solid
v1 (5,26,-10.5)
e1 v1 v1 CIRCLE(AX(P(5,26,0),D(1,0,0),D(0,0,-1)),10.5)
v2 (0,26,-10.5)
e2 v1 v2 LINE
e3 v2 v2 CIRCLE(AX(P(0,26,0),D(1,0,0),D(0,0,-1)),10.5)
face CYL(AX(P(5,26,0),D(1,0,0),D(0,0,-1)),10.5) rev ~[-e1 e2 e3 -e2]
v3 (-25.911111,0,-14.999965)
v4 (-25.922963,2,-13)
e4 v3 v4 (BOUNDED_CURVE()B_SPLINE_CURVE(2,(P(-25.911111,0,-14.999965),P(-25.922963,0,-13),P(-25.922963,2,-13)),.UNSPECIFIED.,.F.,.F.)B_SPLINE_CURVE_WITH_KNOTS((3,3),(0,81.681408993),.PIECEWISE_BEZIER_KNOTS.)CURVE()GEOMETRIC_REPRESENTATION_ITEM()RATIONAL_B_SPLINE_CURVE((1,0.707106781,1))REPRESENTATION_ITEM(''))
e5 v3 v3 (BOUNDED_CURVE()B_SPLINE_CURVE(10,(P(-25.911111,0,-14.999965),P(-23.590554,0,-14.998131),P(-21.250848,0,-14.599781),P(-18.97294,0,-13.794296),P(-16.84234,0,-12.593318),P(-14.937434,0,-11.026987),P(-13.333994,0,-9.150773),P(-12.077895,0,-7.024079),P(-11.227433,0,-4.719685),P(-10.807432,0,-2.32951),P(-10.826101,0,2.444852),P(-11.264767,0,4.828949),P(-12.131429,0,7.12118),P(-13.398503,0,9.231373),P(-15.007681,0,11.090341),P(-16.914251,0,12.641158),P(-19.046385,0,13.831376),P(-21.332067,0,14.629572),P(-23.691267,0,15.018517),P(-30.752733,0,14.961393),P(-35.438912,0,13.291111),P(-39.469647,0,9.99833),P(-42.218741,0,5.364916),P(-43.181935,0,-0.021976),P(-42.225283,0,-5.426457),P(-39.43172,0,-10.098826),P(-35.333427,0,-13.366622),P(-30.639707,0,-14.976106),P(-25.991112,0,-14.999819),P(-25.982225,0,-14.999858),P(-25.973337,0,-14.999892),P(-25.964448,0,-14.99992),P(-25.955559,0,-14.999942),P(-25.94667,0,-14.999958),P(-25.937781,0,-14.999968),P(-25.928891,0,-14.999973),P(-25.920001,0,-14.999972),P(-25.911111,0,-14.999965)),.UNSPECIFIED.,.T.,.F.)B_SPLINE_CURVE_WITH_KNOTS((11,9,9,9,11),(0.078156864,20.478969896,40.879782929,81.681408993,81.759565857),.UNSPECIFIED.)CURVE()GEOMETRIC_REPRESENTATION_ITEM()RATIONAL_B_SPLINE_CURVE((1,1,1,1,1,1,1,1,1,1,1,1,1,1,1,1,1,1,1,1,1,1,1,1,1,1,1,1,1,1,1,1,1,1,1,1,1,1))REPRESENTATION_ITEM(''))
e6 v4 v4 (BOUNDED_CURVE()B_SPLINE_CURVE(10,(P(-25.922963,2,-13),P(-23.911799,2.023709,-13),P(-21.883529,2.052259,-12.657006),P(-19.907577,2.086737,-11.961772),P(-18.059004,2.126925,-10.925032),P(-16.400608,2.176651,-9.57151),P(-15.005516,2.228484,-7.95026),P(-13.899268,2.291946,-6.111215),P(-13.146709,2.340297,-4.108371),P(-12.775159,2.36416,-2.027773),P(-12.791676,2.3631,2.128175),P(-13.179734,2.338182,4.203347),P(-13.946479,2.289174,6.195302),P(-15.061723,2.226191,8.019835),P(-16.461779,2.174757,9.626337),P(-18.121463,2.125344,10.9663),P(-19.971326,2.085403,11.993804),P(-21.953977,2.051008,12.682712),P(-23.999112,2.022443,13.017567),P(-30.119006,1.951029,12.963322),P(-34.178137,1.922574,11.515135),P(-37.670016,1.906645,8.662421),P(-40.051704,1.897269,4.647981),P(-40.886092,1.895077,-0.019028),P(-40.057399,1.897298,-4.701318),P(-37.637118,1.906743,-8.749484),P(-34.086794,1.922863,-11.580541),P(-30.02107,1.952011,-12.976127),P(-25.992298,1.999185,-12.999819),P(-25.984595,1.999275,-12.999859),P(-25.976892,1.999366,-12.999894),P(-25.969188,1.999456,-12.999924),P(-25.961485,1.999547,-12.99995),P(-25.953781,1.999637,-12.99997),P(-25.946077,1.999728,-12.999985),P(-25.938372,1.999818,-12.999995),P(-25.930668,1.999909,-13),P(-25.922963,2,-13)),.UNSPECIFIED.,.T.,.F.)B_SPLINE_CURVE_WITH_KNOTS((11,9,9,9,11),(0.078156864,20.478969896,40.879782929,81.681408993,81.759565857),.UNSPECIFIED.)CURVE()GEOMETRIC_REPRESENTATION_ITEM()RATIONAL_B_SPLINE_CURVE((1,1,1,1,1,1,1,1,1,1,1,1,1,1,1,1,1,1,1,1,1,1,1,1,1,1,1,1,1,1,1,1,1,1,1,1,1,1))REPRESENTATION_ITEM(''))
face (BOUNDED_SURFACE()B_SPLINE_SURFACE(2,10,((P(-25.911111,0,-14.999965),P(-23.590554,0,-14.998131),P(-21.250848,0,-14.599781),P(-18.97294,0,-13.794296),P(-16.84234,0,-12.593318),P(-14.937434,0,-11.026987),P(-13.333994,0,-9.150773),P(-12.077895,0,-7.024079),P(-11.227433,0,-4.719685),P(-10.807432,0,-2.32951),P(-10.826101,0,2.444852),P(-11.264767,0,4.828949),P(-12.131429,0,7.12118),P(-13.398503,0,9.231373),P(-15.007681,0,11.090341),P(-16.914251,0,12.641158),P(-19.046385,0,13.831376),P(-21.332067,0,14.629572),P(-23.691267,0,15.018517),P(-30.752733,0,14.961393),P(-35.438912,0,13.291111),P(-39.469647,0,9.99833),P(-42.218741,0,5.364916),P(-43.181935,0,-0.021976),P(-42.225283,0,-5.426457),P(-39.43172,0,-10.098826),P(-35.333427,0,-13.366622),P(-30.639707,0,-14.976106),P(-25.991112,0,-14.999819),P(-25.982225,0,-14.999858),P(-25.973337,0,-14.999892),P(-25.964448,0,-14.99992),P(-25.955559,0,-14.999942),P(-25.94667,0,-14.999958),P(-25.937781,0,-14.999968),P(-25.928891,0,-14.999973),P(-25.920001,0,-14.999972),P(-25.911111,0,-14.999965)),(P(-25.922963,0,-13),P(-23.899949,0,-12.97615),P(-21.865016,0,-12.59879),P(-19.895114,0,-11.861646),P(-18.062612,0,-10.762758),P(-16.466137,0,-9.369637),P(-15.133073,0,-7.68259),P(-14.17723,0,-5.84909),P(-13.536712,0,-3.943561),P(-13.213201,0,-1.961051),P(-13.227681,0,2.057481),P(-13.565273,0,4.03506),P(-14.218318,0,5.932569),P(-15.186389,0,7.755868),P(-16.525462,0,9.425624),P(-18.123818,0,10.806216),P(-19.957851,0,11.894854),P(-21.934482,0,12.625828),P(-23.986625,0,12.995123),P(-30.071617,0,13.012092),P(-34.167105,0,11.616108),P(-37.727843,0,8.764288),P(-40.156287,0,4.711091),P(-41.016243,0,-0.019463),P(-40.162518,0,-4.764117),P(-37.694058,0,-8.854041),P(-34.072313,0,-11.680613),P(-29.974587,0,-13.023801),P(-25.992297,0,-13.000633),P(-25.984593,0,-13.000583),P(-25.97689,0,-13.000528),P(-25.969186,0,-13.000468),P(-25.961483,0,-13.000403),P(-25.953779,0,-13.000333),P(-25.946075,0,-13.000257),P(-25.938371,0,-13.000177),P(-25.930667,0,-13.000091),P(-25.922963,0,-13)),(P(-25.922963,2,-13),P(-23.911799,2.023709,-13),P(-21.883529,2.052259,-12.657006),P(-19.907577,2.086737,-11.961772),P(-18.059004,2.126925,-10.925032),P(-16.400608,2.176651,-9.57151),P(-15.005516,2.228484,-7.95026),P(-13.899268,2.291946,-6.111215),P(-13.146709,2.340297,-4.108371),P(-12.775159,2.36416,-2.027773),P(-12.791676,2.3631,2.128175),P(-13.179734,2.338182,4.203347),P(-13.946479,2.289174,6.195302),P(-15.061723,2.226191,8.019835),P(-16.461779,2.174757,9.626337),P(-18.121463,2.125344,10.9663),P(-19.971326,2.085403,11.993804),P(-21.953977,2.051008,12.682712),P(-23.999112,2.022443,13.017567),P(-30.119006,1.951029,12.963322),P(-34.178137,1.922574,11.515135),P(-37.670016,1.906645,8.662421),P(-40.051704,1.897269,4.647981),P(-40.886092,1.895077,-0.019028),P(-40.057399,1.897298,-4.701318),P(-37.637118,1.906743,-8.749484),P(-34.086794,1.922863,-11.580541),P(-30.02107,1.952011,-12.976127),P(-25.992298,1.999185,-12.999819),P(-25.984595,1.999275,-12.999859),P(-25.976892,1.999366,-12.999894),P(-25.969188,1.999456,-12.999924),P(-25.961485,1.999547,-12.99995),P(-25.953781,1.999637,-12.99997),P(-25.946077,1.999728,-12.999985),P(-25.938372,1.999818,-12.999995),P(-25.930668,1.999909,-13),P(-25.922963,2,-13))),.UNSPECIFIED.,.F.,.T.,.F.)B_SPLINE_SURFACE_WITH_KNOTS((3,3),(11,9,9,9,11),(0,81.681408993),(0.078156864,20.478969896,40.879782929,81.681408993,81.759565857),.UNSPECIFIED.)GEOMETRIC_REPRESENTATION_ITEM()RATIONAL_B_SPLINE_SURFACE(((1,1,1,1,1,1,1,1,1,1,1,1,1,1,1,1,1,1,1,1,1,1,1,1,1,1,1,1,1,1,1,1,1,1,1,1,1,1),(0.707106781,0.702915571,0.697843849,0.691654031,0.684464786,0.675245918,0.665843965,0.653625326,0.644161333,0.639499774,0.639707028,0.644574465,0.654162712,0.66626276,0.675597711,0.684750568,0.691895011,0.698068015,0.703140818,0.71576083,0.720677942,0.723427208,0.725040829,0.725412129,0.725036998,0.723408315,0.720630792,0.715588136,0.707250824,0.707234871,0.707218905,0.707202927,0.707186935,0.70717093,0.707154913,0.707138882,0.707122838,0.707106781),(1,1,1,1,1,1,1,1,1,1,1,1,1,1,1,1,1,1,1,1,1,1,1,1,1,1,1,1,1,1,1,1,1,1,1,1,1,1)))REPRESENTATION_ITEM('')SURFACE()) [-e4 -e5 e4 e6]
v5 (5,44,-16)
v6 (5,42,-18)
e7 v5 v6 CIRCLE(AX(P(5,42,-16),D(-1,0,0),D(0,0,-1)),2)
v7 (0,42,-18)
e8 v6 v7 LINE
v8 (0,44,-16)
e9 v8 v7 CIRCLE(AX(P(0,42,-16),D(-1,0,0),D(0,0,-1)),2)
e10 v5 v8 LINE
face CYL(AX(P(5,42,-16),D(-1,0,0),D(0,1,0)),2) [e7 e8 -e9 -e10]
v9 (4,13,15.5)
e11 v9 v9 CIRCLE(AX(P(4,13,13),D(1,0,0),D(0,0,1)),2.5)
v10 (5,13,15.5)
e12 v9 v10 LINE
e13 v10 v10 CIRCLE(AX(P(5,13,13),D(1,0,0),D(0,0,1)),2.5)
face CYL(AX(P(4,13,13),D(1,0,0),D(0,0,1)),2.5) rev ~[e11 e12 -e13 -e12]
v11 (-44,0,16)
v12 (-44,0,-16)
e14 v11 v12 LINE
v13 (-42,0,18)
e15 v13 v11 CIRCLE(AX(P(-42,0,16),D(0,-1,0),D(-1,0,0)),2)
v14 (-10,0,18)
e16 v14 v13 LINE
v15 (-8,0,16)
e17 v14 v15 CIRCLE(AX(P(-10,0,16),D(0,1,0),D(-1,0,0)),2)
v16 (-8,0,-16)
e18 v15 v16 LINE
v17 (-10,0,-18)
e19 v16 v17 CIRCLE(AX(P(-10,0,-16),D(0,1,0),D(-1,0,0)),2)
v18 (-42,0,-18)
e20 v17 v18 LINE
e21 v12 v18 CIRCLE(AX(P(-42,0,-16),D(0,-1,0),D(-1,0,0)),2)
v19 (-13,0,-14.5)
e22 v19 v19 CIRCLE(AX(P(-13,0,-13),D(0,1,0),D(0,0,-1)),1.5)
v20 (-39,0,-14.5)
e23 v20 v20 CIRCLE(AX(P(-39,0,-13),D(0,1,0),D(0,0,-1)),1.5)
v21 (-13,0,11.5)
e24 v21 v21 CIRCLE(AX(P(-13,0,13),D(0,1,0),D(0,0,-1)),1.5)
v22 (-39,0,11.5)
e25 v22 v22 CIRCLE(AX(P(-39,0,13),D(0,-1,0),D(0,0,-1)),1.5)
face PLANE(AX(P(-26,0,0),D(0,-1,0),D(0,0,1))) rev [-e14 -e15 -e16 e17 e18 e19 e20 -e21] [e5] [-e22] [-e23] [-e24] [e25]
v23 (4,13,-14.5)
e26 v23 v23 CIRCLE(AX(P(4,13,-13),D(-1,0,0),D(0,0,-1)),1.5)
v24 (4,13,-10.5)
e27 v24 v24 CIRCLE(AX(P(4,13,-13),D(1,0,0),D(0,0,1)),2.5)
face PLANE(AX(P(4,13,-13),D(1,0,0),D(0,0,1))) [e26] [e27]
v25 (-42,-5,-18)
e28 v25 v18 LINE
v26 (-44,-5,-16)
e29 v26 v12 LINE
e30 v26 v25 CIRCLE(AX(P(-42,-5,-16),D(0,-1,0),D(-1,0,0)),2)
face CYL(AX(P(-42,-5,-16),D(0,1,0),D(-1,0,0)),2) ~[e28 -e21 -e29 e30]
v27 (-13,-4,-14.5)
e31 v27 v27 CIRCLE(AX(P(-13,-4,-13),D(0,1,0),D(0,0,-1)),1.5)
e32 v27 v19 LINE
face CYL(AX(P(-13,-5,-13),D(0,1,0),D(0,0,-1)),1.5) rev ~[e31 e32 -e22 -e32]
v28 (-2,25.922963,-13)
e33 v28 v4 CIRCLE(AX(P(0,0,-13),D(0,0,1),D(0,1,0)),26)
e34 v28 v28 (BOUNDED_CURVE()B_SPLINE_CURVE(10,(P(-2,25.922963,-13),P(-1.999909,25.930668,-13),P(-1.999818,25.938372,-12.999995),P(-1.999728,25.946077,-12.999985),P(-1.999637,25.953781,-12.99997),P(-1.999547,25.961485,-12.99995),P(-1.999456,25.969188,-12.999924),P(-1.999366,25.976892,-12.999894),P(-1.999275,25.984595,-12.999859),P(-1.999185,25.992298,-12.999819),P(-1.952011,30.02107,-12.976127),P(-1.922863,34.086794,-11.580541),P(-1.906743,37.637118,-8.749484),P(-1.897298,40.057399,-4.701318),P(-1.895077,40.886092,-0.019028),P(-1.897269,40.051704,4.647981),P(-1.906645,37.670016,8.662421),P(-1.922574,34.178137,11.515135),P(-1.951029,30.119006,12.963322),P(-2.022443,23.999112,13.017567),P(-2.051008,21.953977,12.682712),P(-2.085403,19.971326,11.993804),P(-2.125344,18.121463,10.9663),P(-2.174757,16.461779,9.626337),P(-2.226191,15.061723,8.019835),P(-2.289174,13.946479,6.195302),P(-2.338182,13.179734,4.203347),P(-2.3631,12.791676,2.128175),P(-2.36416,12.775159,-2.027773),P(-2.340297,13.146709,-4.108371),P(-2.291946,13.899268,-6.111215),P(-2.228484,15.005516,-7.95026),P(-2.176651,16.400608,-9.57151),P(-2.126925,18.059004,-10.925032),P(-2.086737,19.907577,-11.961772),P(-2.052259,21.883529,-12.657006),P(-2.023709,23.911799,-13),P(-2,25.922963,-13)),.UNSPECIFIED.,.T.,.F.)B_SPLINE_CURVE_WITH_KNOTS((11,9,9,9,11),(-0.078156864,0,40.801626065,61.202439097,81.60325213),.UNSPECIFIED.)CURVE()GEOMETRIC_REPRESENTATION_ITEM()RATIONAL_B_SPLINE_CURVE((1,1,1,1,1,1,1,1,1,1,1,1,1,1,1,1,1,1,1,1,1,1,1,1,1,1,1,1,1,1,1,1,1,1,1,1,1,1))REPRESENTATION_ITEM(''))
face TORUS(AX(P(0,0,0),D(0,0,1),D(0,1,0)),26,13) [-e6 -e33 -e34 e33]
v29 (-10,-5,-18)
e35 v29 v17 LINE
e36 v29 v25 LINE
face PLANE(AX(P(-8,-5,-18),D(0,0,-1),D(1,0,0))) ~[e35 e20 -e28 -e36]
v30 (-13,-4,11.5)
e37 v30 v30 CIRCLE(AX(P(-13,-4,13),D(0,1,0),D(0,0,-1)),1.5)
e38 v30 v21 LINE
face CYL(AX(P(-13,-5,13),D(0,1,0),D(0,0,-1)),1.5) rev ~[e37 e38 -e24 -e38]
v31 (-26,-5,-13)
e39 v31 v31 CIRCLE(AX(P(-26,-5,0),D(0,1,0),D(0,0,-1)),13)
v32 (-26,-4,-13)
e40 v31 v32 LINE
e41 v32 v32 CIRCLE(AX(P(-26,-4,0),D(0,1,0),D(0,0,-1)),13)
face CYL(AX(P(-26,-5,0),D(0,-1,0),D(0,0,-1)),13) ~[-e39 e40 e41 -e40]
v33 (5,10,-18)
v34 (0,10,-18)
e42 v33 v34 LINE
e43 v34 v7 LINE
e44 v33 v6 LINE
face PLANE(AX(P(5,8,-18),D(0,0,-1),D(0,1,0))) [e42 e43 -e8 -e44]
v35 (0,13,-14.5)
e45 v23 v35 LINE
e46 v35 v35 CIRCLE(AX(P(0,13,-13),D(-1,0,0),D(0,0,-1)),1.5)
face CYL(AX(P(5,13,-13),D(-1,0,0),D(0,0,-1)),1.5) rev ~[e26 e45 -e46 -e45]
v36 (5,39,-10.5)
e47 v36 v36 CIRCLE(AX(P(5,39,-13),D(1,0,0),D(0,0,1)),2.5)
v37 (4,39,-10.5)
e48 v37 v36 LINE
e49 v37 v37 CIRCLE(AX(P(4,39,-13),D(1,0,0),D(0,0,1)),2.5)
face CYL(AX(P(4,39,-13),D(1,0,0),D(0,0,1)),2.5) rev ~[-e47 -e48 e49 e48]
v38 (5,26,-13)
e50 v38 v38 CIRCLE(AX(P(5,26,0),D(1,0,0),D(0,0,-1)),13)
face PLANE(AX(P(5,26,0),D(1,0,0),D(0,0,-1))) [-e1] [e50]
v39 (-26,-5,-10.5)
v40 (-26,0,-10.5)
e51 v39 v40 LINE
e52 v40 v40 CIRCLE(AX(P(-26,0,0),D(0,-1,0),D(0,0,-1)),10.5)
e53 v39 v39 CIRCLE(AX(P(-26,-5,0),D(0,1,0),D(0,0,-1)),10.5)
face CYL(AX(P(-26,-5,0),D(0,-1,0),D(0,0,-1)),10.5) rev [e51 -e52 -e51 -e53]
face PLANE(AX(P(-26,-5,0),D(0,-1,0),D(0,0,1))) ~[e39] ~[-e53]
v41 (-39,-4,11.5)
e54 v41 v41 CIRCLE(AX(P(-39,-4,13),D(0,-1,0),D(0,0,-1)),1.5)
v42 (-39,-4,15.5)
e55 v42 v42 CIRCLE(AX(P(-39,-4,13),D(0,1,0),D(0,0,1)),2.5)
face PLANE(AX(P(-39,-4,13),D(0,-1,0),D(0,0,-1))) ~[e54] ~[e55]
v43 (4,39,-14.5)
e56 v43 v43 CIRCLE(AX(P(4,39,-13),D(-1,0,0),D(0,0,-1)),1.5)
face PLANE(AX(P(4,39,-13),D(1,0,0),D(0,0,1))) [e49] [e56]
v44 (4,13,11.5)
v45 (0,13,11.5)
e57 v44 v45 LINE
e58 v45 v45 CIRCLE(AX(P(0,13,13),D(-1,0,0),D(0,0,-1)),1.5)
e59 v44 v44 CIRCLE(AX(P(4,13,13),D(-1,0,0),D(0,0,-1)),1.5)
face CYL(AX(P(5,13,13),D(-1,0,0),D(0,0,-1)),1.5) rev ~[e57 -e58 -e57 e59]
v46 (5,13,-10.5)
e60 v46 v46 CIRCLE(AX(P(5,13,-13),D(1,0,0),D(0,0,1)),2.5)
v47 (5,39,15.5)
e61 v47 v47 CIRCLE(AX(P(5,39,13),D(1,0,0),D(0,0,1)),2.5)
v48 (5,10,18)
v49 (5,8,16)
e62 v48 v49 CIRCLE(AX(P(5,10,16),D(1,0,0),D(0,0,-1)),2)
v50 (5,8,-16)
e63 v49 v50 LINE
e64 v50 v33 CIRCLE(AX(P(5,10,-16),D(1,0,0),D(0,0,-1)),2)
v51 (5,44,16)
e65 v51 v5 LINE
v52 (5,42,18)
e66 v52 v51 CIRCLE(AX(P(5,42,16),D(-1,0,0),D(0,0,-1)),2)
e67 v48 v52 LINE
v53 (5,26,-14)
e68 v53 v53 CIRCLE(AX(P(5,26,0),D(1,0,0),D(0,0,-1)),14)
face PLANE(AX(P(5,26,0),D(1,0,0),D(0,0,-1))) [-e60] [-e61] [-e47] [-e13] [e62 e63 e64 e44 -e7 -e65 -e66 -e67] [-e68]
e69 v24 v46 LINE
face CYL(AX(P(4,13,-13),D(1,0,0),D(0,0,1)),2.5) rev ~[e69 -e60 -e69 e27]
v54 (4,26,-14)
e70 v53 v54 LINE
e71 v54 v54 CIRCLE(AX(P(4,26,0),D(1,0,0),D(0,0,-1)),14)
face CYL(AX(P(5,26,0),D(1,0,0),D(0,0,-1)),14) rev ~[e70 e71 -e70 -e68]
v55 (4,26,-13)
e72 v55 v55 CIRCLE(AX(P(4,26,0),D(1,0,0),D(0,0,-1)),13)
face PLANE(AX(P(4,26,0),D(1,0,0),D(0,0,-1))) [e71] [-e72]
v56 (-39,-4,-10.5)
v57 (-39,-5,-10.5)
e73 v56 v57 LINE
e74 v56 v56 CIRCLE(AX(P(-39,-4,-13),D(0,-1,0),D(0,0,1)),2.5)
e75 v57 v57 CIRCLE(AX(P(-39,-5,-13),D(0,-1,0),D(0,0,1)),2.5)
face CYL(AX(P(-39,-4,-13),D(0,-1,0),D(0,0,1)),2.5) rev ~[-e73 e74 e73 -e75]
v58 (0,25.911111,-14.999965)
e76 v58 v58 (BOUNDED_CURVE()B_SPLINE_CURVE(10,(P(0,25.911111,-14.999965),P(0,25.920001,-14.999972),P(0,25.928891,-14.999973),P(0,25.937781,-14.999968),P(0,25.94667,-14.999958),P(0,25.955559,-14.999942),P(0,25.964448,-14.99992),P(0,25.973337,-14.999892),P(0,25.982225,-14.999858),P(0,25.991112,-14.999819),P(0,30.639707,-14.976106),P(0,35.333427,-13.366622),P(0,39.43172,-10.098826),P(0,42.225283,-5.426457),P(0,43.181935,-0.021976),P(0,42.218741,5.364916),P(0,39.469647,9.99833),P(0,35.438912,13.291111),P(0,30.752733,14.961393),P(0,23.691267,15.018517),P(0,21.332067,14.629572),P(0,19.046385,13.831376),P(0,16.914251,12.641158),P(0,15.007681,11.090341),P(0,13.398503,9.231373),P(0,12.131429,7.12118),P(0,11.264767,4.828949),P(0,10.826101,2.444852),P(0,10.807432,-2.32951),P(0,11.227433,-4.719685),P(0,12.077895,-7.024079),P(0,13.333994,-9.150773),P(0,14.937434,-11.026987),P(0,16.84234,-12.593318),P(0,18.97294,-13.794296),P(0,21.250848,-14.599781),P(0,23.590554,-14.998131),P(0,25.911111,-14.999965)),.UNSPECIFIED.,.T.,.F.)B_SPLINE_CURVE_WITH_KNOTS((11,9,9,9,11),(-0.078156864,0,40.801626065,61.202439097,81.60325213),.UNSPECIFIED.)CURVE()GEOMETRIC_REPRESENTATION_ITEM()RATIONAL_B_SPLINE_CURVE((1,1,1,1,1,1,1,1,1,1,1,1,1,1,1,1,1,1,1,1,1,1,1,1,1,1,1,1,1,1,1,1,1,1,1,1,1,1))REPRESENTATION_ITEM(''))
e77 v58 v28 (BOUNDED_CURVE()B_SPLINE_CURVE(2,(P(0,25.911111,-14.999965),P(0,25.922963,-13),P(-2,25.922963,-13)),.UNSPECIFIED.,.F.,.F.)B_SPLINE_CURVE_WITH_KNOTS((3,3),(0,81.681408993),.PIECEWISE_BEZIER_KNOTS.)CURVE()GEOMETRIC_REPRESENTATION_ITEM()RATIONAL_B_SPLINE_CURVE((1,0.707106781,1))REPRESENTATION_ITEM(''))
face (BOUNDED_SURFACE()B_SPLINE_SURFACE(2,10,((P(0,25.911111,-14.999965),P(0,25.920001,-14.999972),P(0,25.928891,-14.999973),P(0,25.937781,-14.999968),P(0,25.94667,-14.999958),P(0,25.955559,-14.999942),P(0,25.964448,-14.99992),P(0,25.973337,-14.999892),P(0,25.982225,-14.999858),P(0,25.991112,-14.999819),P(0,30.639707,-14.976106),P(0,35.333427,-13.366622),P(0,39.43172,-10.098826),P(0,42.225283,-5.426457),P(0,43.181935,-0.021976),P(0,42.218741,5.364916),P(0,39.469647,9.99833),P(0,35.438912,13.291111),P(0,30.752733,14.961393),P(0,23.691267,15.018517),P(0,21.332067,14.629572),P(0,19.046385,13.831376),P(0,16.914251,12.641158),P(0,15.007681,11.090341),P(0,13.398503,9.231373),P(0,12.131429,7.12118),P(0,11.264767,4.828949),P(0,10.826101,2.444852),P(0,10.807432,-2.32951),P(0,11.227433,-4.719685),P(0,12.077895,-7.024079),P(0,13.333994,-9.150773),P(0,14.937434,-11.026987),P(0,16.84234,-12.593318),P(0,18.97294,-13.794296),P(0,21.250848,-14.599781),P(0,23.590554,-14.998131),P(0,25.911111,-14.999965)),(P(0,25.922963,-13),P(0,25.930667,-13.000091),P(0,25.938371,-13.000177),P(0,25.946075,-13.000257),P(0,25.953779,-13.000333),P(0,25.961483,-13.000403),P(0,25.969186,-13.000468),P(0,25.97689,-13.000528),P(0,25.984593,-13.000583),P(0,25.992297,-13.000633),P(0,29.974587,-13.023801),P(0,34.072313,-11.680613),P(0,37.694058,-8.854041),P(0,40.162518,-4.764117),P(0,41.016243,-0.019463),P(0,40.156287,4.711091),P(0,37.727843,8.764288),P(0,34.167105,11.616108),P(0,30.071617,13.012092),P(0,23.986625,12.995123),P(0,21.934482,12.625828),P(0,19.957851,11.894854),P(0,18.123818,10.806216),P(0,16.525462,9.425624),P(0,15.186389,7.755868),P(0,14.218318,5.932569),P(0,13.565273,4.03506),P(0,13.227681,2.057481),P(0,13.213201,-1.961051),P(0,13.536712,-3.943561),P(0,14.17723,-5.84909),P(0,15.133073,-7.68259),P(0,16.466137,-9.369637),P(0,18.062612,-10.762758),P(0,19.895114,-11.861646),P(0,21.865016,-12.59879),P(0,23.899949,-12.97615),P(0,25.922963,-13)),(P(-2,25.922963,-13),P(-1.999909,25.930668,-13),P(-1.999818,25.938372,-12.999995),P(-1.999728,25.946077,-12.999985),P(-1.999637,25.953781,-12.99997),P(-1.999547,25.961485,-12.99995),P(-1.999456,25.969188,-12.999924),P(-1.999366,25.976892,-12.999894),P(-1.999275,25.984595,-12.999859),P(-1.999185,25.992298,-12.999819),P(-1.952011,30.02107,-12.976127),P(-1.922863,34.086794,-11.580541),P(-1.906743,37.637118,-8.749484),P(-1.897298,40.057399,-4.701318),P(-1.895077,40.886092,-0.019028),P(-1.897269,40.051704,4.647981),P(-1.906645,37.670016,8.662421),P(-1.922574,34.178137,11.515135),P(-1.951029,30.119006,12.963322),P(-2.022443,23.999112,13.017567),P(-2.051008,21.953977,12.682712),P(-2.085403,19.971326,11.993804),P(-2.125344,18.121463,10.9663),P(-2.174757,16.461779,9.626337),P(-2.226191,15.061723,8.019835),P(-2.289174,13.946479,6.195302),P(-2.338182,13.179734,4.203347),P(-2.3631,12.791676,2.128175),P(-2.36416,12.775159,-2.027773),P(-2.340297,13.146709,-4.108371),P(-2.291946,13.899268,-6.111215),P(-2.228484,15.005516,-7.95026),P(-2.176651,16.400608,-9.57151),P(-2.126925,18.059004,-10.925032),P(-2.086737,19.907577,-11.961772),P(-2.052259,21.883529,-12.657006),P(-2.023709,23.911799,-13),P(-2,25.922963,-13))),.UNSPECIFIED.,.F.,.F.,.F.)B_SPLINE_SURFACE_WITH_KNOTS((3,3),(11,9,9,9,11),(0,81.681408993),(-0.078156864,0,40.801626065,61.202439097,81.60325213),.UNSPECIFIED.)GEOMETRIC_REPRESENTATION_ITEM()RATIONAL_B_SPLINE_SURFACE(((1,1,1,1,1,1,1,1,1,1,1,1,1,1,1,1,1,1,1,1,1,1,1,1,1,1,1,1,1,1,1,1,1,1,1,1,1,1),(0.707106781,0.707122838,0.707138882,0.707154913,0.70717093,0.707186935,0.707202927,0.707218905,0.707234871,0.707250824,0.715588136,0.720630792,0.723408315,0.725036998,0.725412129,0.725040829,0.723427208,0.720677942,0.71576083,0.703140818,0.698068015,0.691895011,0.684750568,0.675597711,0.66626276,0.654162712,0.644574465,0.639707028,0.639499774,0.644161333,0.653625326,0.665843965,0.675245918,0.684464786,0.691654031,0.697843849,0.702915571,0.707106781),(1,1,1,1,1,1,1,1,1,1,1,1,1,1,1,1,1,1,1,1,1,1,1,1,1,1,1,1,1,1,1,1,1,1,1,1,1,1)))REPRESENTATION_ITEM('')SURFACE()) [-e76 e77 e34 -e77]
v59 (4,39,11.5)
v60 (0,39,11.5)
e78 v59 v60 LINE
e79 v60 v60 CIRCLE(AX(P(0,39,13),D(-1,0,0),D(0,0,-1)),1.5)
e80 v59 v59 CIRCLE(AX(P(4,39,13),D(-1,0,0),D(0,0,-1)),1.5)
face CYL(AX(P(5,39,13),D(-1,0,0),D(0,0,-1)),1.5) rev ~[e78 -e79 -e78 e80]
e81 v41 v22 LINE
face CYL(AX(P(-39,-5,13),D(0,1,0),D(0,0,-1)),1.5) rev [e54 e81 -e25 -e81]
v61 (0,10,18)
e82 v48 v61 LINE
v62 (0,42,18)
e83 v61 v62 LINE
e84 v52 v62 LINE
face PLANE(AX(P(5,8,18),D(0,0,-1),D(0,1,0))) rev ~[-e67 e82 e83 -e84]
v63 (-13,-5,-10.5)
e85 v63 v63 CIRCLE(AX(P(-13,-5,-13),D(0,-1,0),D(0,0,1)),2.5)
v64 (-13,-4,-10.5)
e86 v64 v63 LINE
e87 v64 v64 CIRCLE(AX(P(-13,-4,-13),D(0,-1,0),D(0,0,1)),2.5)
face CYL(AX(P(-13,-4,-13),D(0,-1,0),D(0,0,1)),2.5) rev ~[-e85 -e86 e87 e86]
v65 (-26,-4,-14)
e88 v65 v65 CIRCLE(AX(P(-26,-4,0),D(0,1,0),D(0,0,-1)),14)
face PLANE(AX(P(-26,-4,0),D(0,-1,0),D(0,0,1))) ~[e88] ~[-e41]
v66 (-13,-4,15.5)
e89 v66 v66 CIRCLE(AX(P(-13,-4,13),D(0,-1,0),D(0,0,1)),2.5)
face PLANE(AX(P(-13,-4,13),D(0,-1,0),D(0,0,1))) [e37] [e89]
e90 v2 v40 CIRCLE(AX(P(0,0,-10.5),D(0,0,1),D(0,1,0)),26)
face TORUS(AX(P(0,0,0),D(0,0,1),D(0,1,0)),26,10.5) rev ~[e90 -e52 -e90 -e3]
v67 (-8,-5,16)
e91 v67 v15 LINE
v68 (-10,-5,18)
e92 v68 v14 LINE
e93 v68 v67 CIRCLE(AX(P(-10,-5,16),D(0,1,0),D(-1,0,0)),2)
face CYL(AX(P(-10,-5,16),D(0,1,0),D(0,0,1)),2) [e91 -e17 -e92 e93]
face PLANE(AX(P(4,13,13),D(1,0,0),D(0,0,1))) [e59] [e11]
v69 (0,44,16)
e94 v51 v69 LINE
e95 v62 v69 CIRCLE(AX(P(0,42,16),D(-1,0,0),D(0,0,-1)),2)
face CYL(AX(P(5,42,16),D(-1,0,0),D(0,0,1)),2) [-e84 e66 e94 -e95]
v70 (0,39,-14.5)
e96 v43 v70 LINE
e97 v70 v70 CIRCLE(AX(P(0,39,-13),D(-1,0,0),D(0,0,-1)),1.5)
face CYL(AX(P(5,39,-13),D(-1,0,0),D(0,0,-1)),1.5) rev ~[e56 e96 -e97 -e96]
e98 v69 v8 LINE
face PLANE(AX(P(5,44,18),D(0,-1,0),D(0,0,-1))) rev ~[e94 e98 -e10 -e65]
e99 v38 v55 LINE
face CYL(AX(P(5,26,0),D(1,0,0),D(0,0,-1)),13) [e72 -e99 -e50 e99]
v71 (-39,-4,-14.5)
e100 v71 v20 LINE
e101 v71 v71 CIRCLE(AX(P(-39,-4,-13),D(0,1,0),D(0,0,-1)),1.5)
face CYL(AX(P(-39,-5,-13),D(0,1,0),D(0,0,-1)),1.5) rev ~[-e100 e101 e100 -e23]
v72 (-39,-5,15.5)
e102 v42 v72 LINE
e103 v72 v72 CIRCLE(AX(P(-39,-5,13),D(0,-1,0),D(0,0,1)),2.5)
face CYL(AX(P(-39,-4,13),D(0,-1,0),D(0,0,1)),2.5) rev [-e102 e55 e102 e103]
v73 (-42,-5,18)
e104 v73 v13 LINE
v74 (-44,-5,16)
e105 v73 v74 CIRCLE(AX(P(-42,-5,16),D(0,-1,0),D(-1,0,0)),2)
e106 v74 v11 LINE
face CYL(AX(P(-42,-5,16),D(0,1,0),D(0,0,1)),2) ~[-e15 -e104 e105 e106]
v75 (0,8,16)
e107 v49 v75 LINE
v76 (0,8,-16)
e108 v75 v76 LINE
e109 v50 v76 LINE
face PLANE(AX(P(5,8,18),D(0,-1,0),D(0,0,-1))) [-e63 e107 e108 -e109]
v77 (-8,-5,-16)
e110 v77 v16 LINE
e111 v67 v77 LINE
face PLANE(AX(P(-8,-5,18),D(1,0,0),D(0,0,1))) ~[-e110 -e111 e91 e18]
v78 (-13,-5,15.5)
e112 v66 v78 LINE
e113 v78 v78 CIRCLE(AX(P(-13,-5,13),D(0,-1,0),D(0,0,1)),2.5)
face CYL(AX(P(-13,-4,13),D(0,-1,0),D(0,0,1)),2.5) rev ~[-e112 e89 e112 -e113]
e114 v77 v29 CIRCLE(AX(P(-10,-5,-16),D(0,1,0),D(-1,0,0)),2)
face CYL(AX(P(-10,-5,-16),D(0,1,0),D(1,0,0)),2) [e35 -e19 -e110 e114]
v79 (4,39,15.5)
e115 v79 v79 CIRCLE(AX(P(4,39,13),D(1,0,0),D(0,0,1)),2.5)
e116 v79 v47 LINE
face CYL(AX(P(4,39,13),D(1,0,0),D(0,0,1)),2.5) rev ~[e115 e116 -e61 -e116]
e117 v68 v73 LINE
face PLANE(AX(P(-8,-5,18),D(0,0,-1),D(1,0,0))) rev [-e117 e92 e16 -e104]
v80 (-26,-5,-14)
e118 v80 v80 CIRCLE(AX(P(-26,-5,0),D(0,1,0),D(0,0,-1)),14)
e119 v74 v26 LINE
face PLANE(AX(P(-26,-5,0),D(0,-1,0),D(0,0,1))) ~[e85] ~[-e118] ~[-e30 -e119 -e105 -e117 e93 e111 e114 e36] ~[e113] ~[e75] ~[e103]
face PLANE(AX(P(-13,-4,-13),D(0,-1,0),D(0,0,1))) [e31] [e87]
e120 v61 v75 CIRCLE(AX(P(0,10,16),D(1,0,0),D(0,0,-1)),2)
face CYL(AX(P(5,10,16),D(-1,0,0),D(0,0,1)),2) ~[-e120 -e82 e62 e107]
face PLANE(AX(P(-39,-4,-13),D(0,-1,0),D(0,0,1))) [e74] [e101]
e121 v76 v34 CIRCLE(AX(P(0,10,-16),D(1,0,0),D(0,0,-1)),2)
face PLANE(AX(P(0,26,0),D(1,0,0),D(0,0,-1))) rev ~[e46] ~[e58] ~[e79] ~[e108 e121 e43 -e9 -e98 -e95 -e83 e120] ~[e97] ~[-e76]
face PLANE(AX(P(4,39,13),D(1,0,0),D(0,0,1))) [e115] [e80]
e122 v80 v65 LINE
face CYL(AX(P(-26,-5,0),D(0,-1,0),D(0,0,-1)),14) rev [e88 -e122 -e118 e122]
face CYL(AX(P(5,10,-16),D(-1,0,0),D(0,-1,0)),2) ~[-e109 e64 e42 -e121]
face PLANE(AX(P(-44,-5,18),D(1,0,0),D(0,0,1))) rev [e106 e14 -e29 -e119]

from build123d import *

# Parameters (mm, degrees)
SKETCH6_R                  = 13
SKETCH6_R_2                = 10.5
REVOLVE1_ANGLE             = 90
SKETCH6_2_R                = 13
SKETCH6_2_R_2              = 10.5
BOSS_EXTRUDE1_DEPTH        = 5
SKETCH9_W                  = 36
SKETCH9_H                  = 36
BOSS_EXTRUDE2_DEPTH        = 5
SKETCH10_R                 = 10.5
CUT_EXTRUDE1_DEPTH         = 5
SKETCH11_R                 = 14
SKETCH11_R_2               = 13
CUT_EXTRUDE2_DEPTH         = 1
HOLE1_D                    = 3
HOLE1_DEPTH                = 5
HOLE1_CBORE_D              = 5
HOLE1_CBORE_DEPTH          = 1
LPATTERN1_COUNT            = 2
LPATTERN1_PITCH            = 26
LPATTERN1_COUNT_DIR2       = 2
LPATTERN1_PITCH_DIR2       = 26
FILLET1_R                  = 2
MIRROR1_COPY_1_D           = 3
MIRROR1_COPY_1_DEPTH       = 5
MIRROR1_COPY_1_CBORE_D     = 5
MIRROR1_COPY_1_CBORE_DEPTH = 1
MIRROR1_COPY_2_D           = 3
MIRROR1_COPY_2_DEPTH       = 5
MIRROR1_COPY_2_CBORE_D     = 5
MIRROR1_COPY_2_CBORE_DEPTH = 1
MIRROR1_COPY_3_D           = 3
MIRROR1_COPY_3_DEPTH       = 5
MIRROR1_COPY_3_CBORE_D     = 5
MIRROR1_COPY_3_CBORE_DEPTH = 1
FILLET1_OF_MIRROR1_R       = 2


with BuildPart() as part:
    # Sketch6 → Revolve1 (revolve)
    with BuildSketch(Plane(origin=(0, 0, 0), x_dir=(0, 0, -1), z_dir=(1, 0, 0))):
        with Locations((0, 26)):
            Circle(SKETCH6_R)
        with Locations((0, 26)):
            Circle(SKETCH6_R_2, mode=Mode.SUBTRACT)
    revolve(axis=Axis((0, 0, -14.3), (0, 0, 1)), revolution_arc=REVOLVE1_ANGLE)

    # Sketch6<2> → Boss-Extrude1 (add)
    with BuildSketch(Plane(origin=(0, 0, 0), x_dir=(0, 0, -1), z_dir=(1, 0, 0))):
        with Locations(Location((0, 26, 0), (0, 0, 90))):
            Circle(SKETCH6_2_R)
        with Locations(Location((0, 26, 0), (0, 0, 90))):
            Circle(SKETCH6_2_R_2, mode=Mode.SUBTRACT)
    boss_extrude1 = extrude(amount=BOSS_EXTRUDE1_DEPTH)

    # Sketch9 → Boss-Extrude2 (add)
    with BuildSketch(Plane(origin=(5, 0, 0), x_dir=(0, 0, -1), z_dir=(1, 0, 0))):
        with Locations((0, 26)):
            Rectangle(SKETCH9_W, SKETCH9_H)
    boss_extrude2 = extrude(amount=-BOSS_EXTRUDE2_DEPTH)

    # Sketch10 → Cut-Extrude1 (cut)
    with BuildSketch(Plane(origin=(5, 0, 0), x_dir=(0, 0, -1), z_dir=(1, 0, 0))):
        with Locations((0, 26)):
            Circle(SKETCH10_R)
    cut_extrude1 = extrude(amount=-CUT_EXTRUDE1_DEPTH, mode=Mode.SUBTRACT)

    # Sketch11 → Cut-Extrude2 (cut)
    with BuildSketch(Plane(origin=(5, 0, 0), x_dir=(0, 0, -1), z_dir=(1, 0, 0))):
        with Locations((0, 26)):
            Circle(SKETCH11_R)
        with Locations((0, 26)):
            Circle(SKETCH11_R_2, mode=Mode.SUBTRACT)
    cut_extrude2 = extrude(amount=-CUT_EXTRUDE2_DEPTH, mode=Mode.SUBTRACT)

    # Hole1
    with Locations(Plane(origin=(5, 39, 13), x_dir=(0, 0, 1), z_dir=(1, 0, 0))):
        with Locations((0, 0)):
            hole1 = CounterBoreHole(HOLE1_D / 2, HOLE1_CBORE_D / 2, HOLE1_CBORE_DEPTH, depth=HOLE1_DEPTH)

    # LPattern1: Hole1 2 × 2
    with Locations(*[(0, -j * LPATTERN1_PITCH_DIR2, -i * LPATTERN1_PITCH) for i in range(LPATTERN1_COUNT) for j in range(LPATTERN1_COUNT_DIR2) if (i, j) != (0, 0)]):
        add(hole1, mode=Mode.SUBTRACT)

    # Fillet1
    fillet1_edges = [part.edges().sort_by_distance(p)[0] for p in [
        (2.5, 44, -18),
        (2.5, 8, -18),
        (2.5, 8, 18),
        (2.5, 44, 18),
        (0, 26, 13),
    ]]
    fillet(fillet1_edges, radius=FILLET1_R)

    # Mirror1: Boss-Extrude1, Boss-Extrude2, Cut-Extrude1, Cut-Extrude2, Hole1 across plane
    add(boss_extrude1.mirror(Plane(origin=(0, 0, 0), x_dir=(0, 0, 1), z_dir=(0.7071067811865475, 0.7071067811865477, 0))))
    add(boss_extrude2.mirror(Plane(origin=(0, 0, 0), x_dir=(0, 0, 1), z_dir=(0.7071067811865475, 0.7071067811865477, 0))))
    add(cut_extrude1.mirror(Plane(origin=(0, 0, 0), x_dir=(0, 0, 1), z_dir=(0.7071067811865475, 0.7071067811865477, 0))), mode=Mode.SUBTRACT)
    add(cut_extrude2.mirror(Plane(origin=(0, 0, 0), x_dir=(0, 0, 1), z_dir=(0.7071067811865475, 0.7071067811865477, 0))), mode=Mode.SUBTRACT)
    add(hole1.mirror(Plane(origin=(0, 0, 0), x_dir=(0, 0, 1), z_dir=(0.7071067811865475, 0.7071067811865477, 0))), mode=Mode.SUBTRACT)

    # Mirror1 copy 1
    with Locations(Plane(origin=(-13, -5, 13), x_dir=(0, 0, 1), z_dir=(0, -1, 0))):
        with Locations((0, 0)):
            CounterBoreHole(MIRROR1_COPY_1_D / 2, MIRROR1_COPY_1_CBORE_D / 2, MIRROR1_COPY_1_CBORE_DEPTH, depth=MIRROR1_COPY_1_DEPTH)

    # Mirror1 copy 2
    with Locations(Plane(origin=(-39, -5, -13), x_dir=(0, 0, 1), z_dir=(0, -1, 0))):
        with Locations((0, 0)):
            CounterBoreHole(MIRROR1_COPY_2_D / 2, MIRROR1_COPY_2_CBORE_D / 2, MIRROR1_COPY_2_CBORE_DEPTH, depth=MIRROR1_COPY_2_DEPTH)

    # Mirror1 copy 3
    with Locations(Plane(origin=(-13, -5, -13), x_dir=(0, 0, 1), z_dir=(0, -1, 0))):
        with Locations((0, 0)):
            CounterBoreHole(MIRROR1_COPY_3_D / 2, MIRROR1_COPY_3_CBORE_D / 2, MIRROR1_COPY_3_CBORE_DEPTH, depth=MIRROR1_COPY_3_DEPTH)

    # Fillet1 of Mirror1
    fillet1_of_mirror1_edges = [part.edges().sort_by_distance(p)[0] for p in [
        (-44, -2.5, -18),
        (-8, -2.5, -18),
        (-8, -2.5, 18),
        (-44, -2.5, 18),
        (-26, 0, 13),
    ]]
    fillet(fillet1_of_mirror1_edges, radius=FILLET1_OF_MIRROR1_R)


solid = part.part
